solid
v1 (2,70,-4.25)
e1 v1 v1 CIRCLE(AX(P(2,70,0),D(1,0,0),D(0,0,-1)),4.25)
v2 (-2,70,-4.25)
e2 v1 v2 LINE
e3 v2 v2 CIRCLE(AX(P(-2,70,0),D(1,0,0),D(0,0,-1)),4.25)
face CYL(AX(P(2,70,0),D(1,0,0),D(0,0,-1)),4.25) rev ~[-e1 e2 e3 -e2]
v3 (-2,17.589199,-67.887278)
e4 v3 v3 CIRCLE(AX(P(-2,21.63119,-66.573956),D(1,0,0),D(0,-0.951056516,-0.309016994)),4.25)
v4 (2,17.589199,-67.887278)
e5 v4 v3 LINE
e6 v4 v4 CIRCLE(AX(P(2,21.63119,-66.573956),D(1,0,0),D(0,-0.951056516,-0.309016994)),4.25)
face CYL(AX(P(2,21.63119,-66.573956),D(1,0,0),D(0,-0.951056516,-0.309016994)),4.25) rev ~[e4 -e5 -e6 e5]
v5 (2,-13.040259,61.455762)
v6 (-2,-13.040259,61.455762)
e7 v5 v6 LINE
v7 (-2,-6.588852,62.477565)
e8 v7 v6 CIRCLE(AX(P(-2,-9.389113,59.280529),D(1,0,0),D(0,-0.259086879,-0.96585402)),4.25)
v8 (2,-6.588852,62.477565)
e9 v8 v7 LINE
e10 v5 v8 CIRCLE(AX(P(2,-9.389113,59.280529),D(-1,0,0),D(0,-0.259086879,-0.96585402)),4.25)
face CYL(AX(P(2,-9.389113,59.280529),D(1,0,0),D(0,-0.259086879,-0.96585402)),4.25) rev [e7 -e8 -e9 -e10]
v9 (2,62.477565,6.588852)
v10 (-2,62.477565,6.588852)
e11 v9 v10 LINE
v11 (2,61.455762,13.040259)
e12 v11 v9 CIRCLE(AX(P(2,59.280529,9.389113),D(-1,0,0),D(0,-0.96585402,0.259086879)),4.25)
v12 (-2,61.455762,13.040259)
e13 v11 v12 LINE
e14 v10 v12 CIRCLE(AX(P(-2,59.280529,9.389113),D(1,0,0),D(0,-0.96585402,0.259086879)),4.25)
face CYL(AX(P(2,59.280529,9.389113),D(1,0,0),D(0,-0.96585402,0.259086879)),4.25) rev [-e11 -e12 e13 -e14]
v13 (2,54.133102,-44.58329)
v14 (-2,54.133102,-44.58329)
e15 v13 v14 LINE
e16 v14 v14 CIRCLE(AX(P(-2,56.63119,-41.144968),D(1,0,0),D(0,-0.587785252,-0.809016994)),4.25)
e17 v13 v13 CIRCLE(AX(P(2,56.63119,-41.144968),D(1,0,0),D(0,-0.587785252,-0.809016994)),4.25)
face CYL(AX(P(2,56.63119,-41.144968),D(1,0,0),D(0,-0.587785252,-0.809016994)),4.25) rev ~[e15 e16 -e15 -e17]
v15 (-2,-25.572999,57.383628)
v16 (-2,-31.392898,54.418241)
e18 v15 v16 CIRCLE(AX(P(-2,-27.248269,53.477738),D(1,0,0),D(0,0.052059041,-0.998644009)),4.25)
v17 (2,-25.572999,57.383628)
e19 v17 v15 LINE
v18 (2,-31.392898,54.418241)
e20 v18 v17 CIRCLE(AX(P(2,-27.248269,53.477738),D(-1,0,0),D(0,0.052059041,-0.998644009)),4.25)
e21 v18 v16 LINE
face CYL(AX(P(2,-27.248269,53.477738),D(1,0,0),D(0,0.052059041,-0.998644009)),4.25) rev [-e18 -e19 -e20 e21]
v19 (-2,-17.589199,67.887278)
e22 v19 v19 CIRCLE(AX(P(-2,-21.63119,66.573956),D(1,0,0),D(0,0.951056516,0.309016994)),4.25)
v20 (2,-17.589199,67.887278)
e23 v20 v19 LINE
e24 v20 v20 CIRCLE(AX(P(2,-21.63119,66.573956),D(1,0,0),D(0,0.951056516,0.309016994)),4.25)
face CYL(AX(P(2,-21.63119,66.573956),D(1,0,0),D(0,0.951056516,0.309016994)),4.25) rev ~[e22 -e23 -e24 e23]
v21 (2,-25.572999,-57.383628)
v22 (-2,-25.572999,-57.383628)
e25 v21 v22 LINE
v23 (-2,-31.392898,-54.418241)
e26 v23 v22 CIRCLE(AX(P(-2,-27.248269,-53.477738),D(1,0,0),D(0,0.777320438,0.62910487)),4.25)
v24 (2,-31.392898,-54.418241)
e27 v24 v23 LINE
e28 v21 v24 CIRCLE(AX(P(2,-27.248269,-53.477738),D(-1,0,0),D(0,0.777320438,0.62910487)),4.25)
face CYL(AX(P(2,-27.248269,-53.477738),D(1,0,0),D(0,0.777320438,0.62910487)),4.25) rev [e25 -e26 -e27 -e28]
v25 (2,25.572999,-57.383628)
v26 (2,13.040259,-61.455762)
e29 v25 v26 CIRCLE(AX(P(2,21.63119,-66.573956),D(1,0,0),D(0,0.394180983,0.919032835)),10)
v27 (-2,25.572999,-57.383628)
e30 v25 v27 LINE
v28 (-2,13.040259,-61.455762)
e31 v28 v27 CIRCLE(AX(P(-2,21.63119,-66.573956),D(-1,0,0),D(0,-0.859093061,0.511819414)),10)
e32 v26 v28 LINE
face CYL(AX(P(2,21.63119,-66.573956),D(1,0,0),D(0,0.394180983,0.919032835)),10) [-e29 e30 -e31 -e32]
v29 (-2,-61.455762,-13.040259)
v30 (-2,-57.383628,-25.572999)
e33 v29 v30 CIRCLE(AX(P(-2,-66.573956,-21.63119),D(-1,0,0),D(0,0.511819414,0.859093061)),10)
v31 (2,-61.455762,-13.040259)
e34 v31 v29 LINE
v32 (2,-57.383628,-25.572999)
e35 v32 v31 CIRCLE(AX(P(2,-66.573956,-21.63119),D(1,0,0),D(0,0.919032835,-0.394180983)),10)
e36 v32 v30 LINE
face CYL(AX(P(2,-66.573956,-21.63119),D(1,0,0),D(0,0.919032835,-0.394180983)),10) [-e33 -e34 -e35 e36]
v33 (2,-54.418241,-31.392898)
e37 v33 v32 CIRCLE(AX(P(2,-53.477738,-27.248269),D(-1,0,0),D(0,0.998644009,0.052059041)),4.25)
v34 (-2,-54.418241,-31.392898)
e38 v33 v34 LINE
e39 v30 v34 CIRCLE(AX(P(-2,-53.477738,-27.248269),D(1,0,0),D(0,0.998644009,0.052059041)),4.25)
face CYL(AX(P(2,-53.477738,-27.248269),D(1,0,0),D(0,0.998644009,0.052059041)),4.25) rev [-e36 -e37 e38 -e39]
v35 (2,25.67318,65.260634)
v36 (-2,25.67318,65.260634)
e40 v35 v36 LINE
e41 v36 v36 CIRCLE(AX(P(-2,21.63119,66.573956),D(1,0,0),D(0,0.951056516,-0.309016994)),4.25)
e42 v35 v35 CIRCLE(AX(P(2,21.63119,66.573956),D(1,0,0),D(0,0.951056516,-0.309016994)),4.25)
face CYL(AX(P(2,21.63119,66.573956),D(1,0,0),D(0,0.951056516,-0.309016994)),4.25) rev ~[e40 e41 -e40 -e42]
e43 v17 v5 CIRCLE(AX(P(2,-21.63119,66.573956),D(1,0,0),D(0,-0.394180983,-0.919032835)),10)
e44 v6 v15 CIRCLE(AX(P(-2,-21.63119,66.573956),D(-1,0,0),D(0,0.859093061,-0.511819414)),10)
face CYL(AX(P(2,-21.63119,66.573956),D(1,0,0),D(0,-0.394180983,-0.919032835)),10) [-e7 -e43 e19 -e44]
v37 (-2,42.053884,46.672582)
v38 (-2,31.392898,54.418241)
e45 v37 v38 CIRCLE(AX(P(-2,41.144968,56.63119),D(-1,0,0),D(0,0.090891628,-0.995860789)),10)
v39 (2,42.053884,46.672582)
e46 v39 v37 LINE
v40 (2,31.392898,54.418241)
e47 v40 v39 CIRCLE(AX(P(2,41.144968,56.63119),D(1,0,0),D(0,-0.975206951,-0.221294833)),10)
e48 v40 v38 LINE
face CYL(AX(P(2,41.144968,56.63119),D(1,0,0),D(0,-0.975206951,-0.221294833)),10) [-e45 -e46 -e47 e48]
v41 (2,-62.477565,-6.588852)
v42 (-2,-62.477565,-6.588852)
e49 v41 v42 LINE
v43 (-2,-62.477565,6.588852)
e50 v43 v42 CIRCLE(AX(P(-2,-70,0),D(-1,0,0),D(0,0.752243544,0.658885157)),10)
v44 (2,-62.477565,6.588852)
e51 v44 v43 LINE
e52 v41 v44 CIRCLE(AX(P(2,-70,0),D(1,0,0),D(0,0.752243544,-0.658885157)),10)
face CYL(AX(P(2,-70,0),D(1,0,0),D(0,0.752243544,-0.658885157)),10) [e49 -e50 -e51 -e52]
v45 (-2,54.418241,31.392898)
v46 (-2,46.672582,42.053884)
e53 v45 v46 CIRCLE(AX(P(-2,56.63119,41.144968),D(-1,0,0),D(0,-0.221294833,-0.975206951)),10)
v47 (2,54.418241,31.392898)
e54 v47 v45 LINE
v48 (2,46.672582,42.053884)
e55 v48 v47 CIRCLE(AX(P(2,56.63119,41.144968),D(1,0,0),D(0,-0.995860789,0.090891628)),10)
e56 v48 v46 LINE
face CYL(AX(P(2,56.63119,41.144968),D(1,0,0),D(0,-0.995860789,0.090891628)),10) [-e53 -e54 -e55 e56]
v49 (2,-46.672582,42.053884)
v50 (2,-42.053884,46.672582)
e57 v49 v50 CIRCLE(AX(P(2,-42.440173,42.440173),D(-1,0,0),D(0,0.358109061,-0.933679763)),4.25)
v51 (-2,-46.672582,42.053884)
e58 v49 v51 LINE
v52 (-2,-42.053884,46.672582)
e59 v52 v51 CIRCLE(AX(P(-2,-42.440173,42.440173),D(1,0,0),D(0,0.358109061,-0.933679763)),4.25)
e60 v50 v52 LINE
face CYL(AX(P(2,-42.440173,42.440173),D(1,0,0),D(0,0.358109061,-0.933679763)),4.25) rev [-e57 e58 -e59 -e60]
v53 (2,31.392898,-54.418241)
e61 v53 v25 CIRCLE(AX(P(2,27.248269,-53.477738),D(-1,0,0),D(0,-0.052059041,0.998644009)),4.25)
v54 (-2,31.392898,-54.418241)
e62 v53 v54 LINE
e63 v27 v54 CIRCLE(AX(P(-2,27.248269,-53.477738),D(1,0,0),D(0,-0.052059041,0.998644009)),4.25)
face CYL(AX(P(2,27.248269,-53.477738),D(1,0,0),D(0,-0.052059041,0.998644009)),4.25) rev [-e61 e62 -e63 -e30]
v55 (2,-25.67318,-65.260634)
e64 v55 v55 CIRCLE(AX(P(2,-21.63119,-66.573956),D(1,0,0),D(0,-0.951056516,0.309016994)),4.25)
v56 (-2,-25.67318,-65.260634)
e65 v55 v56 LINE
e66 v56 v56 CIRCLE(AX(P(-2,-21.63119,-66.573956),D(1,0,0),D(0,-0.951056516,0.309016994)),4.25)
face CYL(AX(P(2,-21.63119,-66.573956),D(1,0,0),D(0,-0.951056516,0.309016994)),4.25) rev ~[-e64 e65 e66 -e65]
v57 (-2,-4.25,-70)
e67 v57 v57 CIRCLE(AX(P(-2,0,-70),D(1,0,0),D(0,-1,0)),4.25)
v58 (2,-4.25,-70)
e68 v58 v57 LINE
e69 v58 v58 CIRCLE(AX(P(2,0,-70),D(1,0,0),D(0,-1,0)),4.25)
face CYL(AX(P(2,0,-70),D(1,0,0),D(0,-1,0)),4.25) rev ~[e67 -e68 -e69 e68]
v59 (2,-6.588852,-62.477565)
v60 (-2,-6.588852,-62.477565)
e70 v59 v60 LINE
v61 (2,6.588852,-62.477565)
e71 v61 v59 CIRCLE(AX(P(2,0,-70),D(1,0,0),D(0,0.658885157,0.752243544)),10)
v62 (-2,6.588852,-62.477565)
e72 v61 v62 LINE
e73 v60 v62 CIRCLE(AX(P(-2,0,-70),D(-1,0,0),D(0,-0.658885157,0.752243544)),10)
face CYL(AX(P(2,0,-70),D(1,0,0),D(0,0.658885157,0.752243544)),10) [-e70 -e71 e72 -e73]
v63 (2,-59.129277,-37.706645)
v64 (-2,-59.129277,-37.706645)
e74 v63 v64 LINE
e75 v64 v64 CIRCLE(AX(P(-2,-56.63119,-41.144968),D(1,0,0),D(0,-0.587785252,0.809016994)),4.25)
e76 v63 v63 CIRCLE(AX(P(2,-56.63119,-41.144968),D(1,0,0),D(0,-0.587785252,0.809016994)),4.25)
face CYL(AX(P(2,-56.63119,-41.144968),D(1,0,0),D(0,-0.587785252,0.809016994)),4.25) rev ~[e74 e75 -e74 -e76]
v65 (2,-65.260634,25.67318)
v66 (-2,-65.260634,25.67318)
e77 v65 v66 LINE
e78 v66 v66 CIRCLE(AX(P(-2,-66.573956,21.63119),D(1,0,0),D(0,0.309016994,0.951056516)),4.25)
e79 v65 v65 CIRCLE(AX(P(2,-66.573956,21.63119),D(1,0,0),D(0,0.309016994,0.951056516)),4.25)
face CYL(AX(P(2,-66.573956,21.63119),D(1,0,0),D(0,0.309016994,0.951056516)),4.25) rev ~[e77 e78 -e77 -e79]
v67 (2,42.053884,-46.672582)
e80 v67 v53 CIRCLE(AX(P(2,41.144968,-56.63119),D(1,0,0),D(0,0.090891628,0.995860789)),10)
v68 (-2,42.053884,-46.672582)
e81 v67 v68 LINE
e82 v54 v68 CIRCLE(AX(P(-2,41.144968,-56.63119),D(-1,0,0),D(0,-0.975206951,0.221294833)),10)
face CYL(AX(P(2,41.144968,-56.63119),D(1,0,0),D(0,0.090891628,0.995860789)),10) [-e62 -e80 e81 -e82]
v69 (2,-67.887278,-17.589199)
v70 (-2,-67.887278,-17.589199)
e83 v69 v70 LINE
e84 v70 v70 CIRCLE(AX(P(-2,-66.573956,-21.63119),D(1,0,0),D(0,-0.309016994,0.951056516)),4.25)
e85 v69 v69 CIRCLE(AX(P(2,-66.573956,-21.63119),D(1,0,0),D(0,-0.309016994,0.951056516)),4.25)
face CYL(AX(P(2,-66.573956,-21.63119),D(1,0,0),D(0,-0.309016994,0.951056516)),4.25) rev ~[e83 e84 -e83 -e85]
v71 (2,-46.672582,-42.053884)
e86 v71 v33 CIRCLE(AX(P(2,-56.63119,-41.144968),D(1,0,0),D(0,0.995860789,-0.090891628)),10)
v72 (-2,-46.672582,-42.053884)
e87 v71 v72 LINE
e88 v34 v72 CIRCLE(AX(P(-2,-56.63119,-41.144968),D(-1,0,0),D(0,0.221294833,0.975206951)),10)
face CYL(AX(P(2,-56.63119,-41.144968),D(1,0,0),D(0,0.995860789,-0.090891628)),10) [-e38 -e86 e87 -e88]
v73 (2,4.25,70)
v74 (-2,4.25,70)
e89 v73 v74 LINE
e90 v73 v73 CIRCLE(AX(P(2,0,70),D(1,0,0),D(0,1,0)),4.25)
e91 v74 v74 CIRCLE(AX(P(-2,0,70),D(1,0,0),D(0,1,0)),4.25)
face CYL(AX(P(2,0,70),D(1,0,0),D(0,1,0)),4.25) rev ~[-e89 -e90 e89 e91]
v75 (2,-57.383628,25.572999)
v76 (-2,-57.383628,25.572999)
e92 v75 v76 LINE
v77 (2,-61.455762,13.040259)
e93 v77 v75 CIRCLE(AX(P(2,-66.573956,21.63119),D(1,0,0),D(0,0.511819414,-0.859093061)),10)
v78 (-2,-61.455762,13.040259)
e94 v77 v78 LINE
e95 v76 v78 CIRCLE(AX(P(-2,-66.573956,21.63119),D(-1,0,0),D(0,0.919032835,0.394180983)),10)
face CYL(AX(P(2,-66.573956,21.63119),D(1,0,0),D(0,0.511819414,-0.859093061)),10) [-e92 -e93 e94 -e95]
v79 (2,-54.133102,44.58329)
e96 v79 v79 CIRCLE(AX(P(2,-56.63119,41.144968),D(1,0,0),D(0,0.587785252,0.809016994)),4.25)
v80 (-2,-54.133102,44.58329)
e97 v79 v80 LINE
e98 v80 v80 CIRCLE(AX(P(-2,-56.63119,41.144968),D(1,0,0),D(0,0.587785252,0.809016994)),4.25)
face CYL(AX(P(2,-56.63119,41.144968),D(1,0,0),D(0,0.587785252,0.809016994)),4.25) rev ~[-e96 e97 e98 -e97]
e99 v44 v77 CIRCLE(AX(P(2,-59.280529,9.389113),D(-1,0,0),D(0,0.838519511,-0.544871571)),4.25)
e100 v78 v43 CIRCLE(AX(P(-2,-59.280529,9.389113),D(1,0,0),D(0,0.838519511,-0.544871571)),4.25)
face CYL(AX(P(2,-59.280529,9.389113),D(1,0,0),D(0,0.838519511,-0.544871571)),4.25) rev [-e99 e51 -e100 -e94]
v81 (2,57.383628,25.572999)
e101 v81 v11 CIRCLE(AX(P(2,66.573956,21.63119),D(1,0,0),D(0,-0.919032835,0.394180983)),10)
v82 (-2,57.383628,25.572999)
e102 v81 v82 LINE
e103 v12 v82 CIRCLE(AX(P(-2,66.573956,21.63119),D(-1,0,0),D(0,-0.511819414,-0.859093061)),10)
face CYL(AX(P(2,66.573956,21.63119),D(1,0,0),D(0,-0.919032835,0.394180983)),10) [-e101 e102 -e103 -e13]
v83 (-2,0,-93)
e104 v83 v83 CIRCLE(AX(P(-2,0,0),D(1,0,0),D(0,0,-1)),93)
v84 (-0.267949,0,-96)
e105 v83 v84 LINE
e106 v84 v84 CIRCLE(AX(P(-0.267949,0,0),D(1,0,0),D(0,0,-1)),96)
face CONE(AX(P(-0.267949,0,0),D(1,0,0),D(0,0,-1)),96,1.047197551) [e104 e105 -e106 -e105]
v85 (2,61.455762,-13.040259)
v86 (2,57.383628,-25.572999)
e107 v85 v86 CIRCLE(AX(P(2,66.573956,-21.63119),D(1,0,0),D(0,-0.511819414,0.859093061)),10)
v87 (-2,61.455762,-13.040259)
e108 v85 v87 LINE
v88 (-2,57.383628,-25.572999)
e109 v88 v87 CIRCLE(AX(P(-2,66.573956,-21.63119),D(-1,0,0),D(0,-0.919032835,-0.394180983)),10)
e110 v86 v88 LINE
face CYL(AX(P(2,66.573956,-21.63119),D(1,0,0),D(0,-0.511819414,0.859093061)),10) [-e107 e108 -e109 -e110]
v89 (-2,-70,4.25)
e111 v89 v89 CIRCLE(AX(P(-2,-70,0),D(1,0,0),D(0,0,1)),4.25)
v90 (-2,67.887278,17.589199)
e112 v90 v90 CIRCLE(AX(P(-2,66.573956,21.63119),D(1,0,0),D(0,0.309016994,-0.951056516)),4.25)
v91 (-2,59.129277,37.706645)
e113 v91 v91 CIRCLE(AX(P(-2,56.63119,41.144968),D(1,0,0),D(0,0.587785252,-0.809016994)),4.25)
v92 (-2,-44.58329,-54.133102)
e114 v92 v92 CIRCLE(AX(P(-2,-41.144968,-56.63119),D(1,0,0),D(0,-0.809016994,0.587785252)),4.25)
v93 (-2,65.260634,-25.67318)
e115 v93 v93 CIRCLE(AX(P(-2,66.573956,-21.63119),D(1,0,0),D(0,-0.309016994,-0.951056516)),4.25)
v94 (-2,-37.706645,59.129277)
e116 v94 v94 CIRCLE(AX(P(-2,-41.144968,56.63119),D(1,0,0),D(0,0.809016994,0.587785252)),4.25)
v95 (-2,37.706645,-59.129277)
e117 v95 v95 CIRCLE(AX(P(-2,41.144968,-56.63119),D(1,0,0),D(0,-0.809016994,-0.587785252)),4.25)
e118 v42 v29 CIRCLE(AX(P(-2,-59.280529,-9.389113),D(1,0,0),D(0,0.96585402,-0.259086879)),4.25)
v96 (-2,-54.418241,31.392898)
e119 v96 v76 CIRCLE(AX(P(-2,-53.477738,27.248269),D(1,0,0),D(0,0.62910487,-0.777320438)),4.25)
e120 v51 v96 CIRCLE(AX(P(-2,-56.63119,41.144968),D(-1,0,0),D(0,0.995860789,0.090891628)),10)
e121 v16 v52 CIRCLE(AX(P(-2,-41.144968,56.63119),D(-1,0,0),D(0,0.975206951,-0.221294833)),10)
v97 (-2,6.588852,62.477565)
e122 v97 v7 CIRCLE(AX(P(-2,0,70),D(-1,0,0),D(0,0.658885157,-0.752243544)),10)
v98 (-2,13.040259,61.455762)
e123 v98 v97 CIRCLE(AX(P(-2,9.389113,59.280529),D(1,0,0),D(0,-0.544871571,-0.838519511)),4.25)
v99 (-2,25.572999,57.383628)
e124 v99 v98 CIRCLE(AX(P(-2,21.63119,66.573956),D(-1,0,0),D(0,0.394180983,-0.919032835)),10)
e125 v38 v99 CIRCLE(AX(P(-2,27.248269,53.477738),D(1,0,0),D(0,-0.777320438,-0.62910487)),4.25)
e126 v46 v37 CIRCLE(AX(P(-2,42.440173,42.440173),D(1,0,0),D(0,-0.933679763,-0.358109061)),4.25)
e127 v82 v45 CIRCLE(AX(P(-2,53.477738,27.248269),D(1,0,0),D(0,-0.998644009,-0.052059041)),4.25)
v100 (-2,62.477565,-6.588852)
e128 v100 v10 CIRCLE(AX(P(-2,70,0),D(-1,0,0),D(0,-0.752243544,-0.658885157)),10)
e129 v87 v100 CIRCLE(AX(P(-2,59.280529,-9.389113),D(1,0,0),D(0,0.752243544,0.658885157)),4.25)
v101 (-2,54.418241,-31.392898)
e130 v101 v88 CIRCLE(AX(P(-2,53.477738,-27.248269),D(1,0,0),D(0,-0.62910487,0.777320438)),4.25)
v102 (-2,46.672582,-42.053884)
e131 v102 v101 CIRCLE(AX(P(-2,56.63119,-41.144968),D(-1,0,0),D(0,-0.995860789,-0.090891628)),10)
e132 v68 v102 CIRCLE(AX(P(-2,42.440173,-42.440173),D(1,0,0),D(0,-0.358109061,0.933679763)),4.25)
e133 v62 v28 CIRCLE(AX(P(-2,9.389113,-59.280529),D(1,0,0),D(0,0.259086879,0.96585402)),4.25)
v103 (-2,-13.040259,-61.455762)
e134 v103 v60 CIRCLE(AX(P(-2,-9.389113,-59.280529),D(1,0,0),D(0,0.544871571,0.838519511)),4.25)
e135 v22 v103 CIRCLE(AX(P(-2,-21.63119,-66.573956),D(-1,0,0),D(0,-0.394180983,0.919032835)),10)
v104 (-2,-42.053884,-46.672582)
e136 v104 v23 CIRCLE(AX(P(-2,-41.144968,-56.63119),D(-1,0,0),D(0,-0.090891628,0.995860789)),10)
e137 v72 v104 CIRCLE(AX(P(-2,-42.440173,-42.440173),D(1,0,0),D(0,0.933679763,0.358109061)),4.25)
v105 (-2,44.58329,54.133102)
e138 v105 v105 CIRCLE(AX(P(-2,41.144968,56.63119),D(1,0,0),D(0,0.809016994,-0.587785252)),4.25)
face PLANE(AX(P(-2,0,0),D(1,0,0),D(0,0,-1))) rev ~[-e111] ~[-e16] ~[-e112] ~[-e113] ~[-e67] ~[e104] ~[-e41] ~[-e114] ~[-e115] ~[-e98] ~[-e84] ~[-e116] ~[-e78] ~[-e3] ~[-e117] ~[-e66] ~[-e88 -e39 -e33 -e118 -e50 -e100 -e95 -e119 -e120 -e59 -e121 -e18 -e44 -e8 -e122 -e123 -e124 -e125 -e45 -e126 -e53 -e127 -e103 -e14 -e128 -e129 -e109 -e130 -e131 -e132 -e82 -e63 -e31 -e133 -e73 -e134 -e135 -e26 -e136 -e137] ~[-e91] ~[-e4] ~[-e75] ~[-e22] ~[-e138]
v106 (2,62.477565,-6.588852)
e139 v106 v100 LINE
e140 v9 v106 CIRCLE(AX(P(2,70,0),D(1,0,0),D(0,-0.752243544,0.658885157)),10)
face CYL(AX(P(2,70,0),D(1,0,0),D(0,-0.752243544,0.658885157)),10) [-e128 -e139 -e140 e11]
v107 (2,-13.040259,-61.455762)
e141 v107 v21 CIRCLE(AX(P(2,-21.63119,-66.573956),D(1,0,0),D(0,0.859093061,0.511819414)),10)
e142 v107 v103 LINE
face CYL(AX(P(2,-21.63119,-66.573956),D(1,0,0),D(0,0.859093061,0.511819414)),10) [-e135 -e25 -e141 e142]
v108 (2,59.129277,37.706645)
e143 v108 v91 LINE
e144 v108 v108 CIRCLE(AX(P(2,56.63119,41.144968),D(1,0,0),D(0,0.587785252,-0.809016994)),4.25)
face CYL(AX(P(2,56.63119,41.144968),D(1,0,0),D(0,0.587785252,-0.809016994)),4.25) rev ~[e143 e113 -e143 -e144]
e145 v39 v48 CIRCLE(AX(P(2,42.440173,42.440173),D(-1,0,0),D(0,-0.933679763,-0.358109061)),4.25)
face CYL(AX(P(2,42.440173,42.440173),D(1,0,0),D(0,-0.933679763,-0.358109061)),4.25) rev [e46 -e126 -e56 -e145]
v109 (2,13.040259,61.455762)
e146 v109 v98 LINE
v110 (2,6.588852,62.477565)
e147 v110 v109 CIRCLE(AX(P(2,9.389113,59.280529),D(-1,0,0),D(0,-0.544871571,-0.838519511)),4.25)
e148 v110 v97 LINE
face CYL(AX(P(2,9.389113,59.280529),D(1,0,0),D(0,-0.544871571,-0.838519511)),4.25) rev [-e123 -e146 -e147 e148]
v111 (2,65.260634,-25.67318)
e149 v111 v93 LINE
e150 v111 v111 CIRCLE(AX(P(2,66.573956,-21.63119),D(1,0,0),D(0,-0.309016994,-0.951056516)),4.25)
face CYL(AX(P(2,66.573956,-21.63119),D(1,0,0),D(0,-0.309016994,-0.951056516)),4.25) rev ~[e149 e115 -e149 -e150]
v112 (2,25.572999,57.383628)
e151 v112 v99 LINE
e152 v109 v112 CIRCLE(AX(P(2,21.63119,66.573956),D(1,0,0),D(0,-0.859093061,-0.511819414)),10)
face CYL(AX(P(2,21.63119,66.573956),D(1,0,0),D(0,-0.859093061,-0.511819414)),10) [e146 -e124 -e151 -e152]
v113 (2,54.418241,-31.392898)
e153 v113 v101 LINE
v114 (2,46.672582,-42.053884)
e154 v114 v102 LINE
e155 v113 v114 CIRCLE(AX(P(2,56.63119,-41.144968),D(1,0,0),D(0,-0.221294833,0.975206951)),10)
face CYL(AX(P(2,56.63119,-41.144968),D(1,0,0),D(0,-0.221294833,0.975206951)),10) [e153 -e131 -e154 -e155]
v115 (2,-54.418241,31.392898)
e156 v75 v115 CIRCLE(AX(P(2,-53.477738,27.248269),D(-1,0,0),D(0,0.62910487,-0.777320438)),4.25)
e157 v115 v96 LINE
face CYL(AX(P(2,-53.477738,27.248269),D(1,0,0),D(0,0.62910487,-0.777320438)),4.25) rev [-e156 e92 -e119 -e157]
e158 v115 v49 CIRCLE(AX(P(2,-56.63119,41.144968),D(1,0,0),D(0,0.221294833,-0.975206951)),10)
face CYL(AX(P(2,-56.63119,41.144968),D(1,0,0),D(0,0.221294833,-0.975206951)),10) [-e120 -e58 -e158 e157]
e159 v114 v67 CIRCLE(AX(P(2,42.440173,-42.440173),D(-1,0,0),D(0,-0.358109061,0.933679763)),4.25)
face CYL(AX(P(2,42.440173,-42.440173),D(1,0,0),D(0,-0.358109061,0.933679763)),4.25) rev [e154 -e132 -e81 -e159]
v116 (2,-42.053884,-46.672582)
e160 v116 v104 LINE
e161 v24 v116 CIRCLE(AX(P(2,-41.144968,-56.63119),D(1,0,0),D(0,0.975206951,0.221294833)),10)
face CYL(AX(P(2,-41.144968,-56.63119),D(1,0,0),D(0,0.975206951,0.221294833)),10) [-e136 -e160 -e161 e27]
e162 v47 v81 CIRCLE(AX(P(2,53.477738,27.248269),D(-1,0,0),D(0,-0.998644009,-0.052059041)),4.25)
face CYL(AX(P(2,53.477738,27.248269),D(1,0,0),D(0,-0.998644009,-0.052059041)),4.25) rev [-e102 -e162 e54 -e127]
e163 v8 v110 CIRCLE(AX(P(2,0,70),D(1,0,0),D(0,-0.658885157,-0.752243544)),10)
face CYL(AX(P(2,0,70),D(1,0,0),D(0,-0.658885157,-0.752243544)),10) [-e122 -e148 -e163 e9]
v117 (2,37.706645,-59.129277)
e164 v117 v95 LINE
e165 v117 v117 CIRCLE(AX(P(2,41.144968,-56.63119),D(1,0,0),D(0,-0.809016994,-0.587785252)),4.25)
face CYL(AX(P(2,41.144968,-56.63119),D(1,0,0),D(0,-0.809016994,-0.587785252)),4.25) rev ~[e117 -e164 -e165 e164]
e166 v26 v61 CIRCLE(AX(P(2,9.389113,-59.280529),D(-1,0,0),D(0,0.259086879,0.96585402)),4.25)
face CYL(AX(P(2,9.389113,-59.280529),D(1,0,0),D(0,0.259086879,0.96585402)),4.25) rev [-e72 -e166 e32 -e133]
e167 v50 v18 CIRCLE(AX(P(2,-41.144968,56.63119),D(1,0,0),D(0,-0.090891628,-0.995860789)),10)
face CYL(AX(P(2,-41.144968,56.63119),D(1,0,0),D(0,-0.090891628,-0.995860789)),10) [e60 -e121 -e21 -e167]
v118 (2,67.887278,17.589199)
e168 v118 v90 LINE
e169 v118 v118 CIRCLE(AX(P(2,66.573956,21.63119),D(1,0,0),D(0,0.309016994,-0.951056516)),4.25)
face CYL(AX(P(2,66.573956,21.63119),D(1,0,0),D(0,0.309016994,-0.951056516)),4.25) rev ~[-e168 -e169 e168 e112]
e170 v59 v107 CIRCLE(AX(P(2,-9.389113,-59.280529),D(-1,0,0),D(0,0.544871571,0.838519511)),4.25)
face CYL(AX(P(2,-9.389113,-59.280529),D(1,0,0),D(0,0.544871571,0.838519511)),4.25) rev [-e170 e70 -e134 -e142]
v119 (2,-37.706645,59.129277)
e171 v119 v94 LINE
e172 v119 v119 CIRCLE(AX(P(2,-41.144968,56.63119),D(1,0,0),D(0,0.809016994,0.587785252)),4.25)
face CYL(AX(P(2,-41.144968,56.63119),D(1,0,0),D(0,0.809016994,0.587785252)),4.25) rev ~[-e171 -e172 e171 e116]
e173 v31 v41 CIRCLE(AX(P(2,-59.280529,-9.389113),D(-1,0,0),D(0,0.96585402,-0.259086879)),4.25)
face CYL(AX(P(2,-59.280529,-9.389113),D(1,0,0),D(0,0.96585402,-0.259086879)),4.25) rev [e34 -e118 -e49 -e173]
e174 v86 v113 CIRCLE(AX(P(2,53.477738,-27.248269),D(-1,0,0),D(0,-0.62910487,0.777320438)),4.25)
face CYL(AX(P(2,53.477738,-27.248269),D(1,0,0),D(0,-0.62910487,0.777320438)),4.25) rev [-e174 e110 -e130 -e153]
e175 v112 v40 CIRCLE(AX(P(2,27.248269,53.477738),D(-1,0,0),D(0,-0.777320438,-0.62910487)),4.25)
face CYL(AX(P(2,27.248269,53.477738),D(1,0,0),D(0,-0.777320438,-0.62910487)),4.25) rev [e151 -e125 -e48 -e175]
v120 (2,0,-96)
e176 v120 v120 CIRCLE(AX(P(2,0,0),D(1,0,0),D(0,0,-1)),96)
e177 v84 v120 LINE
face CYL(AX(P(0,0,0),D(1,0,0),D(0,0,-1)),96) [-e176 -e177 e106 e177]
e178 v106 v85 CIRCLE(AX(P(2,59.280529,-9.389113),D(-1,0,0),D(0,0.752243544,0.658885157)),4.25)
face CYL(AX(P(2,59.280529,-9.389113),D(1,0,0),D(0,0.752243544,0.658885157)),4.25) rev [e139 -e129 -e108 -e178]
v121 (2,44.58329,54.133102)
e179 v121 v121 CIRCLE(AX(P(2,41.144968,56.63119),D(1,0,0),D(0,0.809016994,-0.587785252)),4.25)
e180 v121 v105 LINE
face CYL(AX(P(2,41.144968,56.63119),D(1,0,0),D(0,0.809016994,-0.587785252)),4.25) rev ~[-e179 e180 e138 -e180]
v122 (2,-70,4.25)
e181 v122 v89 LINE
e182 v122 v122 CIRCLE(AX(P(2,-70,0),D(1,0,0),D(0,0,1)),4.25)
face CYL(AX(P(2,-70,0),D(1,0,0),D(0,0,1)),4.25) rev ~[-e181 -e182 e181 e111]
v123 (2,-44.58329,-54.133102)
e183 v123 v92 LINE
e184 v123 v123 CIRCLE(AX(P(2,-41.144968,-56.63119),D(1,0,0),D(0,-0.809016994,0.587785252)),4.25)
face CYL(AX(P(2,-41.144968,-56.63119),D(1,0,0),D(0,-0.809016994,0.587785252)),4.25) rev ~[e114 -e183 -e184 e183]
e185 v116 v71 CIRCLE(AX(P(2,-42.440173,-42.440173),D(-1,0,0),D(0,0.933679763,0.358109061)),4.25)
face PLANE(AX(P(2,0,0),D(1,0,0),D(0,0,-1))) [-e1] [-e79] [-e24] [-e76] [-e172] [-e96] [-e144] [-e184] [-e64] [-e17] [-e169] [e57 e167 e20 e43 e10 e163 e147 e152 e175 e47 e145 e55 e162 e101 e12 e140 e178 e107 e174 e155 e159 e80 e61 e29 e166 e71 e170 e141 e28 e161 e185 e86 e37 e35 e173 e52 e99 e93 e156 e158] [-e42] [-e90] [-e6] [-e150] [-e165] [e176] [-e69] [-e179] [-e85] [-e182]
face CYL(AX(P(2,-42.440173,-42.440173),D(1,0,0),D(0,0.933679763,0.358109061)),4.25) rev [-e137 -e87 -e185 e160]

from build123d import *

# Parameters (mm, degrees)
SKETCH1_R           = 96
SKETCH1_R_2         = 60
BOSS_EXTRUDE1_DEPTH = 2
SKETCH2_R           = 4.25
CUT_EXTRUDE1_DEPTH  = 136.823414771
CIRPATTERN1_COUNT   = 20
CHAMFER1_SIZE       = 3
CHAMFER1_SIZE2      = 1.732050808


with BuildPart() as part:
    # Sketch1 → Boss-Extrude1 (new, symmetric)
    with BuildSketch(Plane(origin=(0, 0, 0), x_dir=(0, 0, -1), z_dir=(1, 0, 0))):
        Circle(SKETCH1_R)
        Circle(SKETCH1_R_2, mode=Mode.SUBTRACT)
    extrude(amount=BOSS_EXTRUDE1_DEPTH, both=True)

    # Sketch2 → Cut-Extrude1 (cut, through all)
    with BuildSketch(Plane(origin=(2, 0, 0), x_dir=(0, 0, -1), z_dir=(1, 0, 0))):
        with Locations((0, 70)):
            Circle(SKETCH2_R)
        with BuildLine():
            Line((10.490232723, 55.175649906), (-0.23164627, 55.175649906))
            Line((-0.23164627, 55.175649906), (-10.490232723, 55.175649906))
            ThreePointArc((-10.490232723, 55.175649906), (-13.137614633, 61.283337309), (-6.588851569, 62.477564557))
            ThreePointArc((-6.588851569, 62.477564557), (0, 60), (6.588851569, 62.477564557))
            ThreePointArc((6.588851569, 62.477564557), (13.137614633, 61.283337309), (10.490232723, 55.175649906))
        make_face()
    cut_extrude1 = extrude(amount=-CUT_EXTRUDE1_DEPTH, mode=Mode.SUBTRACT)

    # CirPattern1: Cut-Extrude1 ×20 about axis
    cirpattern1_axis = Axis((2, 0, 0), (-1, 0, 0))
    for i in range(1, CIRPATTERN1_COUNT):
        add(cut_extrude1.rotate(cirpattern1_axis, i * 360 / CIRPATTERN1_COUNT), mode=Mode.SUBTRACT)

    # Chamfer1
    chamfer1_edges = [part.edges().sort_by_distance(p)[0] for p in [
        (-2, 0, 96),
    ]]
    chamfer1_side = [part.faces().sort_by_distance(p)[0] for p in [
        (-2, 0, 93.28470996),
    ]]
    chamfer(chamfer1_edges, length=CHAMFER1_SIZE, length2=CHAMFER1_SIZE2, reference=chamfer1_side[0])


solid = part.part
